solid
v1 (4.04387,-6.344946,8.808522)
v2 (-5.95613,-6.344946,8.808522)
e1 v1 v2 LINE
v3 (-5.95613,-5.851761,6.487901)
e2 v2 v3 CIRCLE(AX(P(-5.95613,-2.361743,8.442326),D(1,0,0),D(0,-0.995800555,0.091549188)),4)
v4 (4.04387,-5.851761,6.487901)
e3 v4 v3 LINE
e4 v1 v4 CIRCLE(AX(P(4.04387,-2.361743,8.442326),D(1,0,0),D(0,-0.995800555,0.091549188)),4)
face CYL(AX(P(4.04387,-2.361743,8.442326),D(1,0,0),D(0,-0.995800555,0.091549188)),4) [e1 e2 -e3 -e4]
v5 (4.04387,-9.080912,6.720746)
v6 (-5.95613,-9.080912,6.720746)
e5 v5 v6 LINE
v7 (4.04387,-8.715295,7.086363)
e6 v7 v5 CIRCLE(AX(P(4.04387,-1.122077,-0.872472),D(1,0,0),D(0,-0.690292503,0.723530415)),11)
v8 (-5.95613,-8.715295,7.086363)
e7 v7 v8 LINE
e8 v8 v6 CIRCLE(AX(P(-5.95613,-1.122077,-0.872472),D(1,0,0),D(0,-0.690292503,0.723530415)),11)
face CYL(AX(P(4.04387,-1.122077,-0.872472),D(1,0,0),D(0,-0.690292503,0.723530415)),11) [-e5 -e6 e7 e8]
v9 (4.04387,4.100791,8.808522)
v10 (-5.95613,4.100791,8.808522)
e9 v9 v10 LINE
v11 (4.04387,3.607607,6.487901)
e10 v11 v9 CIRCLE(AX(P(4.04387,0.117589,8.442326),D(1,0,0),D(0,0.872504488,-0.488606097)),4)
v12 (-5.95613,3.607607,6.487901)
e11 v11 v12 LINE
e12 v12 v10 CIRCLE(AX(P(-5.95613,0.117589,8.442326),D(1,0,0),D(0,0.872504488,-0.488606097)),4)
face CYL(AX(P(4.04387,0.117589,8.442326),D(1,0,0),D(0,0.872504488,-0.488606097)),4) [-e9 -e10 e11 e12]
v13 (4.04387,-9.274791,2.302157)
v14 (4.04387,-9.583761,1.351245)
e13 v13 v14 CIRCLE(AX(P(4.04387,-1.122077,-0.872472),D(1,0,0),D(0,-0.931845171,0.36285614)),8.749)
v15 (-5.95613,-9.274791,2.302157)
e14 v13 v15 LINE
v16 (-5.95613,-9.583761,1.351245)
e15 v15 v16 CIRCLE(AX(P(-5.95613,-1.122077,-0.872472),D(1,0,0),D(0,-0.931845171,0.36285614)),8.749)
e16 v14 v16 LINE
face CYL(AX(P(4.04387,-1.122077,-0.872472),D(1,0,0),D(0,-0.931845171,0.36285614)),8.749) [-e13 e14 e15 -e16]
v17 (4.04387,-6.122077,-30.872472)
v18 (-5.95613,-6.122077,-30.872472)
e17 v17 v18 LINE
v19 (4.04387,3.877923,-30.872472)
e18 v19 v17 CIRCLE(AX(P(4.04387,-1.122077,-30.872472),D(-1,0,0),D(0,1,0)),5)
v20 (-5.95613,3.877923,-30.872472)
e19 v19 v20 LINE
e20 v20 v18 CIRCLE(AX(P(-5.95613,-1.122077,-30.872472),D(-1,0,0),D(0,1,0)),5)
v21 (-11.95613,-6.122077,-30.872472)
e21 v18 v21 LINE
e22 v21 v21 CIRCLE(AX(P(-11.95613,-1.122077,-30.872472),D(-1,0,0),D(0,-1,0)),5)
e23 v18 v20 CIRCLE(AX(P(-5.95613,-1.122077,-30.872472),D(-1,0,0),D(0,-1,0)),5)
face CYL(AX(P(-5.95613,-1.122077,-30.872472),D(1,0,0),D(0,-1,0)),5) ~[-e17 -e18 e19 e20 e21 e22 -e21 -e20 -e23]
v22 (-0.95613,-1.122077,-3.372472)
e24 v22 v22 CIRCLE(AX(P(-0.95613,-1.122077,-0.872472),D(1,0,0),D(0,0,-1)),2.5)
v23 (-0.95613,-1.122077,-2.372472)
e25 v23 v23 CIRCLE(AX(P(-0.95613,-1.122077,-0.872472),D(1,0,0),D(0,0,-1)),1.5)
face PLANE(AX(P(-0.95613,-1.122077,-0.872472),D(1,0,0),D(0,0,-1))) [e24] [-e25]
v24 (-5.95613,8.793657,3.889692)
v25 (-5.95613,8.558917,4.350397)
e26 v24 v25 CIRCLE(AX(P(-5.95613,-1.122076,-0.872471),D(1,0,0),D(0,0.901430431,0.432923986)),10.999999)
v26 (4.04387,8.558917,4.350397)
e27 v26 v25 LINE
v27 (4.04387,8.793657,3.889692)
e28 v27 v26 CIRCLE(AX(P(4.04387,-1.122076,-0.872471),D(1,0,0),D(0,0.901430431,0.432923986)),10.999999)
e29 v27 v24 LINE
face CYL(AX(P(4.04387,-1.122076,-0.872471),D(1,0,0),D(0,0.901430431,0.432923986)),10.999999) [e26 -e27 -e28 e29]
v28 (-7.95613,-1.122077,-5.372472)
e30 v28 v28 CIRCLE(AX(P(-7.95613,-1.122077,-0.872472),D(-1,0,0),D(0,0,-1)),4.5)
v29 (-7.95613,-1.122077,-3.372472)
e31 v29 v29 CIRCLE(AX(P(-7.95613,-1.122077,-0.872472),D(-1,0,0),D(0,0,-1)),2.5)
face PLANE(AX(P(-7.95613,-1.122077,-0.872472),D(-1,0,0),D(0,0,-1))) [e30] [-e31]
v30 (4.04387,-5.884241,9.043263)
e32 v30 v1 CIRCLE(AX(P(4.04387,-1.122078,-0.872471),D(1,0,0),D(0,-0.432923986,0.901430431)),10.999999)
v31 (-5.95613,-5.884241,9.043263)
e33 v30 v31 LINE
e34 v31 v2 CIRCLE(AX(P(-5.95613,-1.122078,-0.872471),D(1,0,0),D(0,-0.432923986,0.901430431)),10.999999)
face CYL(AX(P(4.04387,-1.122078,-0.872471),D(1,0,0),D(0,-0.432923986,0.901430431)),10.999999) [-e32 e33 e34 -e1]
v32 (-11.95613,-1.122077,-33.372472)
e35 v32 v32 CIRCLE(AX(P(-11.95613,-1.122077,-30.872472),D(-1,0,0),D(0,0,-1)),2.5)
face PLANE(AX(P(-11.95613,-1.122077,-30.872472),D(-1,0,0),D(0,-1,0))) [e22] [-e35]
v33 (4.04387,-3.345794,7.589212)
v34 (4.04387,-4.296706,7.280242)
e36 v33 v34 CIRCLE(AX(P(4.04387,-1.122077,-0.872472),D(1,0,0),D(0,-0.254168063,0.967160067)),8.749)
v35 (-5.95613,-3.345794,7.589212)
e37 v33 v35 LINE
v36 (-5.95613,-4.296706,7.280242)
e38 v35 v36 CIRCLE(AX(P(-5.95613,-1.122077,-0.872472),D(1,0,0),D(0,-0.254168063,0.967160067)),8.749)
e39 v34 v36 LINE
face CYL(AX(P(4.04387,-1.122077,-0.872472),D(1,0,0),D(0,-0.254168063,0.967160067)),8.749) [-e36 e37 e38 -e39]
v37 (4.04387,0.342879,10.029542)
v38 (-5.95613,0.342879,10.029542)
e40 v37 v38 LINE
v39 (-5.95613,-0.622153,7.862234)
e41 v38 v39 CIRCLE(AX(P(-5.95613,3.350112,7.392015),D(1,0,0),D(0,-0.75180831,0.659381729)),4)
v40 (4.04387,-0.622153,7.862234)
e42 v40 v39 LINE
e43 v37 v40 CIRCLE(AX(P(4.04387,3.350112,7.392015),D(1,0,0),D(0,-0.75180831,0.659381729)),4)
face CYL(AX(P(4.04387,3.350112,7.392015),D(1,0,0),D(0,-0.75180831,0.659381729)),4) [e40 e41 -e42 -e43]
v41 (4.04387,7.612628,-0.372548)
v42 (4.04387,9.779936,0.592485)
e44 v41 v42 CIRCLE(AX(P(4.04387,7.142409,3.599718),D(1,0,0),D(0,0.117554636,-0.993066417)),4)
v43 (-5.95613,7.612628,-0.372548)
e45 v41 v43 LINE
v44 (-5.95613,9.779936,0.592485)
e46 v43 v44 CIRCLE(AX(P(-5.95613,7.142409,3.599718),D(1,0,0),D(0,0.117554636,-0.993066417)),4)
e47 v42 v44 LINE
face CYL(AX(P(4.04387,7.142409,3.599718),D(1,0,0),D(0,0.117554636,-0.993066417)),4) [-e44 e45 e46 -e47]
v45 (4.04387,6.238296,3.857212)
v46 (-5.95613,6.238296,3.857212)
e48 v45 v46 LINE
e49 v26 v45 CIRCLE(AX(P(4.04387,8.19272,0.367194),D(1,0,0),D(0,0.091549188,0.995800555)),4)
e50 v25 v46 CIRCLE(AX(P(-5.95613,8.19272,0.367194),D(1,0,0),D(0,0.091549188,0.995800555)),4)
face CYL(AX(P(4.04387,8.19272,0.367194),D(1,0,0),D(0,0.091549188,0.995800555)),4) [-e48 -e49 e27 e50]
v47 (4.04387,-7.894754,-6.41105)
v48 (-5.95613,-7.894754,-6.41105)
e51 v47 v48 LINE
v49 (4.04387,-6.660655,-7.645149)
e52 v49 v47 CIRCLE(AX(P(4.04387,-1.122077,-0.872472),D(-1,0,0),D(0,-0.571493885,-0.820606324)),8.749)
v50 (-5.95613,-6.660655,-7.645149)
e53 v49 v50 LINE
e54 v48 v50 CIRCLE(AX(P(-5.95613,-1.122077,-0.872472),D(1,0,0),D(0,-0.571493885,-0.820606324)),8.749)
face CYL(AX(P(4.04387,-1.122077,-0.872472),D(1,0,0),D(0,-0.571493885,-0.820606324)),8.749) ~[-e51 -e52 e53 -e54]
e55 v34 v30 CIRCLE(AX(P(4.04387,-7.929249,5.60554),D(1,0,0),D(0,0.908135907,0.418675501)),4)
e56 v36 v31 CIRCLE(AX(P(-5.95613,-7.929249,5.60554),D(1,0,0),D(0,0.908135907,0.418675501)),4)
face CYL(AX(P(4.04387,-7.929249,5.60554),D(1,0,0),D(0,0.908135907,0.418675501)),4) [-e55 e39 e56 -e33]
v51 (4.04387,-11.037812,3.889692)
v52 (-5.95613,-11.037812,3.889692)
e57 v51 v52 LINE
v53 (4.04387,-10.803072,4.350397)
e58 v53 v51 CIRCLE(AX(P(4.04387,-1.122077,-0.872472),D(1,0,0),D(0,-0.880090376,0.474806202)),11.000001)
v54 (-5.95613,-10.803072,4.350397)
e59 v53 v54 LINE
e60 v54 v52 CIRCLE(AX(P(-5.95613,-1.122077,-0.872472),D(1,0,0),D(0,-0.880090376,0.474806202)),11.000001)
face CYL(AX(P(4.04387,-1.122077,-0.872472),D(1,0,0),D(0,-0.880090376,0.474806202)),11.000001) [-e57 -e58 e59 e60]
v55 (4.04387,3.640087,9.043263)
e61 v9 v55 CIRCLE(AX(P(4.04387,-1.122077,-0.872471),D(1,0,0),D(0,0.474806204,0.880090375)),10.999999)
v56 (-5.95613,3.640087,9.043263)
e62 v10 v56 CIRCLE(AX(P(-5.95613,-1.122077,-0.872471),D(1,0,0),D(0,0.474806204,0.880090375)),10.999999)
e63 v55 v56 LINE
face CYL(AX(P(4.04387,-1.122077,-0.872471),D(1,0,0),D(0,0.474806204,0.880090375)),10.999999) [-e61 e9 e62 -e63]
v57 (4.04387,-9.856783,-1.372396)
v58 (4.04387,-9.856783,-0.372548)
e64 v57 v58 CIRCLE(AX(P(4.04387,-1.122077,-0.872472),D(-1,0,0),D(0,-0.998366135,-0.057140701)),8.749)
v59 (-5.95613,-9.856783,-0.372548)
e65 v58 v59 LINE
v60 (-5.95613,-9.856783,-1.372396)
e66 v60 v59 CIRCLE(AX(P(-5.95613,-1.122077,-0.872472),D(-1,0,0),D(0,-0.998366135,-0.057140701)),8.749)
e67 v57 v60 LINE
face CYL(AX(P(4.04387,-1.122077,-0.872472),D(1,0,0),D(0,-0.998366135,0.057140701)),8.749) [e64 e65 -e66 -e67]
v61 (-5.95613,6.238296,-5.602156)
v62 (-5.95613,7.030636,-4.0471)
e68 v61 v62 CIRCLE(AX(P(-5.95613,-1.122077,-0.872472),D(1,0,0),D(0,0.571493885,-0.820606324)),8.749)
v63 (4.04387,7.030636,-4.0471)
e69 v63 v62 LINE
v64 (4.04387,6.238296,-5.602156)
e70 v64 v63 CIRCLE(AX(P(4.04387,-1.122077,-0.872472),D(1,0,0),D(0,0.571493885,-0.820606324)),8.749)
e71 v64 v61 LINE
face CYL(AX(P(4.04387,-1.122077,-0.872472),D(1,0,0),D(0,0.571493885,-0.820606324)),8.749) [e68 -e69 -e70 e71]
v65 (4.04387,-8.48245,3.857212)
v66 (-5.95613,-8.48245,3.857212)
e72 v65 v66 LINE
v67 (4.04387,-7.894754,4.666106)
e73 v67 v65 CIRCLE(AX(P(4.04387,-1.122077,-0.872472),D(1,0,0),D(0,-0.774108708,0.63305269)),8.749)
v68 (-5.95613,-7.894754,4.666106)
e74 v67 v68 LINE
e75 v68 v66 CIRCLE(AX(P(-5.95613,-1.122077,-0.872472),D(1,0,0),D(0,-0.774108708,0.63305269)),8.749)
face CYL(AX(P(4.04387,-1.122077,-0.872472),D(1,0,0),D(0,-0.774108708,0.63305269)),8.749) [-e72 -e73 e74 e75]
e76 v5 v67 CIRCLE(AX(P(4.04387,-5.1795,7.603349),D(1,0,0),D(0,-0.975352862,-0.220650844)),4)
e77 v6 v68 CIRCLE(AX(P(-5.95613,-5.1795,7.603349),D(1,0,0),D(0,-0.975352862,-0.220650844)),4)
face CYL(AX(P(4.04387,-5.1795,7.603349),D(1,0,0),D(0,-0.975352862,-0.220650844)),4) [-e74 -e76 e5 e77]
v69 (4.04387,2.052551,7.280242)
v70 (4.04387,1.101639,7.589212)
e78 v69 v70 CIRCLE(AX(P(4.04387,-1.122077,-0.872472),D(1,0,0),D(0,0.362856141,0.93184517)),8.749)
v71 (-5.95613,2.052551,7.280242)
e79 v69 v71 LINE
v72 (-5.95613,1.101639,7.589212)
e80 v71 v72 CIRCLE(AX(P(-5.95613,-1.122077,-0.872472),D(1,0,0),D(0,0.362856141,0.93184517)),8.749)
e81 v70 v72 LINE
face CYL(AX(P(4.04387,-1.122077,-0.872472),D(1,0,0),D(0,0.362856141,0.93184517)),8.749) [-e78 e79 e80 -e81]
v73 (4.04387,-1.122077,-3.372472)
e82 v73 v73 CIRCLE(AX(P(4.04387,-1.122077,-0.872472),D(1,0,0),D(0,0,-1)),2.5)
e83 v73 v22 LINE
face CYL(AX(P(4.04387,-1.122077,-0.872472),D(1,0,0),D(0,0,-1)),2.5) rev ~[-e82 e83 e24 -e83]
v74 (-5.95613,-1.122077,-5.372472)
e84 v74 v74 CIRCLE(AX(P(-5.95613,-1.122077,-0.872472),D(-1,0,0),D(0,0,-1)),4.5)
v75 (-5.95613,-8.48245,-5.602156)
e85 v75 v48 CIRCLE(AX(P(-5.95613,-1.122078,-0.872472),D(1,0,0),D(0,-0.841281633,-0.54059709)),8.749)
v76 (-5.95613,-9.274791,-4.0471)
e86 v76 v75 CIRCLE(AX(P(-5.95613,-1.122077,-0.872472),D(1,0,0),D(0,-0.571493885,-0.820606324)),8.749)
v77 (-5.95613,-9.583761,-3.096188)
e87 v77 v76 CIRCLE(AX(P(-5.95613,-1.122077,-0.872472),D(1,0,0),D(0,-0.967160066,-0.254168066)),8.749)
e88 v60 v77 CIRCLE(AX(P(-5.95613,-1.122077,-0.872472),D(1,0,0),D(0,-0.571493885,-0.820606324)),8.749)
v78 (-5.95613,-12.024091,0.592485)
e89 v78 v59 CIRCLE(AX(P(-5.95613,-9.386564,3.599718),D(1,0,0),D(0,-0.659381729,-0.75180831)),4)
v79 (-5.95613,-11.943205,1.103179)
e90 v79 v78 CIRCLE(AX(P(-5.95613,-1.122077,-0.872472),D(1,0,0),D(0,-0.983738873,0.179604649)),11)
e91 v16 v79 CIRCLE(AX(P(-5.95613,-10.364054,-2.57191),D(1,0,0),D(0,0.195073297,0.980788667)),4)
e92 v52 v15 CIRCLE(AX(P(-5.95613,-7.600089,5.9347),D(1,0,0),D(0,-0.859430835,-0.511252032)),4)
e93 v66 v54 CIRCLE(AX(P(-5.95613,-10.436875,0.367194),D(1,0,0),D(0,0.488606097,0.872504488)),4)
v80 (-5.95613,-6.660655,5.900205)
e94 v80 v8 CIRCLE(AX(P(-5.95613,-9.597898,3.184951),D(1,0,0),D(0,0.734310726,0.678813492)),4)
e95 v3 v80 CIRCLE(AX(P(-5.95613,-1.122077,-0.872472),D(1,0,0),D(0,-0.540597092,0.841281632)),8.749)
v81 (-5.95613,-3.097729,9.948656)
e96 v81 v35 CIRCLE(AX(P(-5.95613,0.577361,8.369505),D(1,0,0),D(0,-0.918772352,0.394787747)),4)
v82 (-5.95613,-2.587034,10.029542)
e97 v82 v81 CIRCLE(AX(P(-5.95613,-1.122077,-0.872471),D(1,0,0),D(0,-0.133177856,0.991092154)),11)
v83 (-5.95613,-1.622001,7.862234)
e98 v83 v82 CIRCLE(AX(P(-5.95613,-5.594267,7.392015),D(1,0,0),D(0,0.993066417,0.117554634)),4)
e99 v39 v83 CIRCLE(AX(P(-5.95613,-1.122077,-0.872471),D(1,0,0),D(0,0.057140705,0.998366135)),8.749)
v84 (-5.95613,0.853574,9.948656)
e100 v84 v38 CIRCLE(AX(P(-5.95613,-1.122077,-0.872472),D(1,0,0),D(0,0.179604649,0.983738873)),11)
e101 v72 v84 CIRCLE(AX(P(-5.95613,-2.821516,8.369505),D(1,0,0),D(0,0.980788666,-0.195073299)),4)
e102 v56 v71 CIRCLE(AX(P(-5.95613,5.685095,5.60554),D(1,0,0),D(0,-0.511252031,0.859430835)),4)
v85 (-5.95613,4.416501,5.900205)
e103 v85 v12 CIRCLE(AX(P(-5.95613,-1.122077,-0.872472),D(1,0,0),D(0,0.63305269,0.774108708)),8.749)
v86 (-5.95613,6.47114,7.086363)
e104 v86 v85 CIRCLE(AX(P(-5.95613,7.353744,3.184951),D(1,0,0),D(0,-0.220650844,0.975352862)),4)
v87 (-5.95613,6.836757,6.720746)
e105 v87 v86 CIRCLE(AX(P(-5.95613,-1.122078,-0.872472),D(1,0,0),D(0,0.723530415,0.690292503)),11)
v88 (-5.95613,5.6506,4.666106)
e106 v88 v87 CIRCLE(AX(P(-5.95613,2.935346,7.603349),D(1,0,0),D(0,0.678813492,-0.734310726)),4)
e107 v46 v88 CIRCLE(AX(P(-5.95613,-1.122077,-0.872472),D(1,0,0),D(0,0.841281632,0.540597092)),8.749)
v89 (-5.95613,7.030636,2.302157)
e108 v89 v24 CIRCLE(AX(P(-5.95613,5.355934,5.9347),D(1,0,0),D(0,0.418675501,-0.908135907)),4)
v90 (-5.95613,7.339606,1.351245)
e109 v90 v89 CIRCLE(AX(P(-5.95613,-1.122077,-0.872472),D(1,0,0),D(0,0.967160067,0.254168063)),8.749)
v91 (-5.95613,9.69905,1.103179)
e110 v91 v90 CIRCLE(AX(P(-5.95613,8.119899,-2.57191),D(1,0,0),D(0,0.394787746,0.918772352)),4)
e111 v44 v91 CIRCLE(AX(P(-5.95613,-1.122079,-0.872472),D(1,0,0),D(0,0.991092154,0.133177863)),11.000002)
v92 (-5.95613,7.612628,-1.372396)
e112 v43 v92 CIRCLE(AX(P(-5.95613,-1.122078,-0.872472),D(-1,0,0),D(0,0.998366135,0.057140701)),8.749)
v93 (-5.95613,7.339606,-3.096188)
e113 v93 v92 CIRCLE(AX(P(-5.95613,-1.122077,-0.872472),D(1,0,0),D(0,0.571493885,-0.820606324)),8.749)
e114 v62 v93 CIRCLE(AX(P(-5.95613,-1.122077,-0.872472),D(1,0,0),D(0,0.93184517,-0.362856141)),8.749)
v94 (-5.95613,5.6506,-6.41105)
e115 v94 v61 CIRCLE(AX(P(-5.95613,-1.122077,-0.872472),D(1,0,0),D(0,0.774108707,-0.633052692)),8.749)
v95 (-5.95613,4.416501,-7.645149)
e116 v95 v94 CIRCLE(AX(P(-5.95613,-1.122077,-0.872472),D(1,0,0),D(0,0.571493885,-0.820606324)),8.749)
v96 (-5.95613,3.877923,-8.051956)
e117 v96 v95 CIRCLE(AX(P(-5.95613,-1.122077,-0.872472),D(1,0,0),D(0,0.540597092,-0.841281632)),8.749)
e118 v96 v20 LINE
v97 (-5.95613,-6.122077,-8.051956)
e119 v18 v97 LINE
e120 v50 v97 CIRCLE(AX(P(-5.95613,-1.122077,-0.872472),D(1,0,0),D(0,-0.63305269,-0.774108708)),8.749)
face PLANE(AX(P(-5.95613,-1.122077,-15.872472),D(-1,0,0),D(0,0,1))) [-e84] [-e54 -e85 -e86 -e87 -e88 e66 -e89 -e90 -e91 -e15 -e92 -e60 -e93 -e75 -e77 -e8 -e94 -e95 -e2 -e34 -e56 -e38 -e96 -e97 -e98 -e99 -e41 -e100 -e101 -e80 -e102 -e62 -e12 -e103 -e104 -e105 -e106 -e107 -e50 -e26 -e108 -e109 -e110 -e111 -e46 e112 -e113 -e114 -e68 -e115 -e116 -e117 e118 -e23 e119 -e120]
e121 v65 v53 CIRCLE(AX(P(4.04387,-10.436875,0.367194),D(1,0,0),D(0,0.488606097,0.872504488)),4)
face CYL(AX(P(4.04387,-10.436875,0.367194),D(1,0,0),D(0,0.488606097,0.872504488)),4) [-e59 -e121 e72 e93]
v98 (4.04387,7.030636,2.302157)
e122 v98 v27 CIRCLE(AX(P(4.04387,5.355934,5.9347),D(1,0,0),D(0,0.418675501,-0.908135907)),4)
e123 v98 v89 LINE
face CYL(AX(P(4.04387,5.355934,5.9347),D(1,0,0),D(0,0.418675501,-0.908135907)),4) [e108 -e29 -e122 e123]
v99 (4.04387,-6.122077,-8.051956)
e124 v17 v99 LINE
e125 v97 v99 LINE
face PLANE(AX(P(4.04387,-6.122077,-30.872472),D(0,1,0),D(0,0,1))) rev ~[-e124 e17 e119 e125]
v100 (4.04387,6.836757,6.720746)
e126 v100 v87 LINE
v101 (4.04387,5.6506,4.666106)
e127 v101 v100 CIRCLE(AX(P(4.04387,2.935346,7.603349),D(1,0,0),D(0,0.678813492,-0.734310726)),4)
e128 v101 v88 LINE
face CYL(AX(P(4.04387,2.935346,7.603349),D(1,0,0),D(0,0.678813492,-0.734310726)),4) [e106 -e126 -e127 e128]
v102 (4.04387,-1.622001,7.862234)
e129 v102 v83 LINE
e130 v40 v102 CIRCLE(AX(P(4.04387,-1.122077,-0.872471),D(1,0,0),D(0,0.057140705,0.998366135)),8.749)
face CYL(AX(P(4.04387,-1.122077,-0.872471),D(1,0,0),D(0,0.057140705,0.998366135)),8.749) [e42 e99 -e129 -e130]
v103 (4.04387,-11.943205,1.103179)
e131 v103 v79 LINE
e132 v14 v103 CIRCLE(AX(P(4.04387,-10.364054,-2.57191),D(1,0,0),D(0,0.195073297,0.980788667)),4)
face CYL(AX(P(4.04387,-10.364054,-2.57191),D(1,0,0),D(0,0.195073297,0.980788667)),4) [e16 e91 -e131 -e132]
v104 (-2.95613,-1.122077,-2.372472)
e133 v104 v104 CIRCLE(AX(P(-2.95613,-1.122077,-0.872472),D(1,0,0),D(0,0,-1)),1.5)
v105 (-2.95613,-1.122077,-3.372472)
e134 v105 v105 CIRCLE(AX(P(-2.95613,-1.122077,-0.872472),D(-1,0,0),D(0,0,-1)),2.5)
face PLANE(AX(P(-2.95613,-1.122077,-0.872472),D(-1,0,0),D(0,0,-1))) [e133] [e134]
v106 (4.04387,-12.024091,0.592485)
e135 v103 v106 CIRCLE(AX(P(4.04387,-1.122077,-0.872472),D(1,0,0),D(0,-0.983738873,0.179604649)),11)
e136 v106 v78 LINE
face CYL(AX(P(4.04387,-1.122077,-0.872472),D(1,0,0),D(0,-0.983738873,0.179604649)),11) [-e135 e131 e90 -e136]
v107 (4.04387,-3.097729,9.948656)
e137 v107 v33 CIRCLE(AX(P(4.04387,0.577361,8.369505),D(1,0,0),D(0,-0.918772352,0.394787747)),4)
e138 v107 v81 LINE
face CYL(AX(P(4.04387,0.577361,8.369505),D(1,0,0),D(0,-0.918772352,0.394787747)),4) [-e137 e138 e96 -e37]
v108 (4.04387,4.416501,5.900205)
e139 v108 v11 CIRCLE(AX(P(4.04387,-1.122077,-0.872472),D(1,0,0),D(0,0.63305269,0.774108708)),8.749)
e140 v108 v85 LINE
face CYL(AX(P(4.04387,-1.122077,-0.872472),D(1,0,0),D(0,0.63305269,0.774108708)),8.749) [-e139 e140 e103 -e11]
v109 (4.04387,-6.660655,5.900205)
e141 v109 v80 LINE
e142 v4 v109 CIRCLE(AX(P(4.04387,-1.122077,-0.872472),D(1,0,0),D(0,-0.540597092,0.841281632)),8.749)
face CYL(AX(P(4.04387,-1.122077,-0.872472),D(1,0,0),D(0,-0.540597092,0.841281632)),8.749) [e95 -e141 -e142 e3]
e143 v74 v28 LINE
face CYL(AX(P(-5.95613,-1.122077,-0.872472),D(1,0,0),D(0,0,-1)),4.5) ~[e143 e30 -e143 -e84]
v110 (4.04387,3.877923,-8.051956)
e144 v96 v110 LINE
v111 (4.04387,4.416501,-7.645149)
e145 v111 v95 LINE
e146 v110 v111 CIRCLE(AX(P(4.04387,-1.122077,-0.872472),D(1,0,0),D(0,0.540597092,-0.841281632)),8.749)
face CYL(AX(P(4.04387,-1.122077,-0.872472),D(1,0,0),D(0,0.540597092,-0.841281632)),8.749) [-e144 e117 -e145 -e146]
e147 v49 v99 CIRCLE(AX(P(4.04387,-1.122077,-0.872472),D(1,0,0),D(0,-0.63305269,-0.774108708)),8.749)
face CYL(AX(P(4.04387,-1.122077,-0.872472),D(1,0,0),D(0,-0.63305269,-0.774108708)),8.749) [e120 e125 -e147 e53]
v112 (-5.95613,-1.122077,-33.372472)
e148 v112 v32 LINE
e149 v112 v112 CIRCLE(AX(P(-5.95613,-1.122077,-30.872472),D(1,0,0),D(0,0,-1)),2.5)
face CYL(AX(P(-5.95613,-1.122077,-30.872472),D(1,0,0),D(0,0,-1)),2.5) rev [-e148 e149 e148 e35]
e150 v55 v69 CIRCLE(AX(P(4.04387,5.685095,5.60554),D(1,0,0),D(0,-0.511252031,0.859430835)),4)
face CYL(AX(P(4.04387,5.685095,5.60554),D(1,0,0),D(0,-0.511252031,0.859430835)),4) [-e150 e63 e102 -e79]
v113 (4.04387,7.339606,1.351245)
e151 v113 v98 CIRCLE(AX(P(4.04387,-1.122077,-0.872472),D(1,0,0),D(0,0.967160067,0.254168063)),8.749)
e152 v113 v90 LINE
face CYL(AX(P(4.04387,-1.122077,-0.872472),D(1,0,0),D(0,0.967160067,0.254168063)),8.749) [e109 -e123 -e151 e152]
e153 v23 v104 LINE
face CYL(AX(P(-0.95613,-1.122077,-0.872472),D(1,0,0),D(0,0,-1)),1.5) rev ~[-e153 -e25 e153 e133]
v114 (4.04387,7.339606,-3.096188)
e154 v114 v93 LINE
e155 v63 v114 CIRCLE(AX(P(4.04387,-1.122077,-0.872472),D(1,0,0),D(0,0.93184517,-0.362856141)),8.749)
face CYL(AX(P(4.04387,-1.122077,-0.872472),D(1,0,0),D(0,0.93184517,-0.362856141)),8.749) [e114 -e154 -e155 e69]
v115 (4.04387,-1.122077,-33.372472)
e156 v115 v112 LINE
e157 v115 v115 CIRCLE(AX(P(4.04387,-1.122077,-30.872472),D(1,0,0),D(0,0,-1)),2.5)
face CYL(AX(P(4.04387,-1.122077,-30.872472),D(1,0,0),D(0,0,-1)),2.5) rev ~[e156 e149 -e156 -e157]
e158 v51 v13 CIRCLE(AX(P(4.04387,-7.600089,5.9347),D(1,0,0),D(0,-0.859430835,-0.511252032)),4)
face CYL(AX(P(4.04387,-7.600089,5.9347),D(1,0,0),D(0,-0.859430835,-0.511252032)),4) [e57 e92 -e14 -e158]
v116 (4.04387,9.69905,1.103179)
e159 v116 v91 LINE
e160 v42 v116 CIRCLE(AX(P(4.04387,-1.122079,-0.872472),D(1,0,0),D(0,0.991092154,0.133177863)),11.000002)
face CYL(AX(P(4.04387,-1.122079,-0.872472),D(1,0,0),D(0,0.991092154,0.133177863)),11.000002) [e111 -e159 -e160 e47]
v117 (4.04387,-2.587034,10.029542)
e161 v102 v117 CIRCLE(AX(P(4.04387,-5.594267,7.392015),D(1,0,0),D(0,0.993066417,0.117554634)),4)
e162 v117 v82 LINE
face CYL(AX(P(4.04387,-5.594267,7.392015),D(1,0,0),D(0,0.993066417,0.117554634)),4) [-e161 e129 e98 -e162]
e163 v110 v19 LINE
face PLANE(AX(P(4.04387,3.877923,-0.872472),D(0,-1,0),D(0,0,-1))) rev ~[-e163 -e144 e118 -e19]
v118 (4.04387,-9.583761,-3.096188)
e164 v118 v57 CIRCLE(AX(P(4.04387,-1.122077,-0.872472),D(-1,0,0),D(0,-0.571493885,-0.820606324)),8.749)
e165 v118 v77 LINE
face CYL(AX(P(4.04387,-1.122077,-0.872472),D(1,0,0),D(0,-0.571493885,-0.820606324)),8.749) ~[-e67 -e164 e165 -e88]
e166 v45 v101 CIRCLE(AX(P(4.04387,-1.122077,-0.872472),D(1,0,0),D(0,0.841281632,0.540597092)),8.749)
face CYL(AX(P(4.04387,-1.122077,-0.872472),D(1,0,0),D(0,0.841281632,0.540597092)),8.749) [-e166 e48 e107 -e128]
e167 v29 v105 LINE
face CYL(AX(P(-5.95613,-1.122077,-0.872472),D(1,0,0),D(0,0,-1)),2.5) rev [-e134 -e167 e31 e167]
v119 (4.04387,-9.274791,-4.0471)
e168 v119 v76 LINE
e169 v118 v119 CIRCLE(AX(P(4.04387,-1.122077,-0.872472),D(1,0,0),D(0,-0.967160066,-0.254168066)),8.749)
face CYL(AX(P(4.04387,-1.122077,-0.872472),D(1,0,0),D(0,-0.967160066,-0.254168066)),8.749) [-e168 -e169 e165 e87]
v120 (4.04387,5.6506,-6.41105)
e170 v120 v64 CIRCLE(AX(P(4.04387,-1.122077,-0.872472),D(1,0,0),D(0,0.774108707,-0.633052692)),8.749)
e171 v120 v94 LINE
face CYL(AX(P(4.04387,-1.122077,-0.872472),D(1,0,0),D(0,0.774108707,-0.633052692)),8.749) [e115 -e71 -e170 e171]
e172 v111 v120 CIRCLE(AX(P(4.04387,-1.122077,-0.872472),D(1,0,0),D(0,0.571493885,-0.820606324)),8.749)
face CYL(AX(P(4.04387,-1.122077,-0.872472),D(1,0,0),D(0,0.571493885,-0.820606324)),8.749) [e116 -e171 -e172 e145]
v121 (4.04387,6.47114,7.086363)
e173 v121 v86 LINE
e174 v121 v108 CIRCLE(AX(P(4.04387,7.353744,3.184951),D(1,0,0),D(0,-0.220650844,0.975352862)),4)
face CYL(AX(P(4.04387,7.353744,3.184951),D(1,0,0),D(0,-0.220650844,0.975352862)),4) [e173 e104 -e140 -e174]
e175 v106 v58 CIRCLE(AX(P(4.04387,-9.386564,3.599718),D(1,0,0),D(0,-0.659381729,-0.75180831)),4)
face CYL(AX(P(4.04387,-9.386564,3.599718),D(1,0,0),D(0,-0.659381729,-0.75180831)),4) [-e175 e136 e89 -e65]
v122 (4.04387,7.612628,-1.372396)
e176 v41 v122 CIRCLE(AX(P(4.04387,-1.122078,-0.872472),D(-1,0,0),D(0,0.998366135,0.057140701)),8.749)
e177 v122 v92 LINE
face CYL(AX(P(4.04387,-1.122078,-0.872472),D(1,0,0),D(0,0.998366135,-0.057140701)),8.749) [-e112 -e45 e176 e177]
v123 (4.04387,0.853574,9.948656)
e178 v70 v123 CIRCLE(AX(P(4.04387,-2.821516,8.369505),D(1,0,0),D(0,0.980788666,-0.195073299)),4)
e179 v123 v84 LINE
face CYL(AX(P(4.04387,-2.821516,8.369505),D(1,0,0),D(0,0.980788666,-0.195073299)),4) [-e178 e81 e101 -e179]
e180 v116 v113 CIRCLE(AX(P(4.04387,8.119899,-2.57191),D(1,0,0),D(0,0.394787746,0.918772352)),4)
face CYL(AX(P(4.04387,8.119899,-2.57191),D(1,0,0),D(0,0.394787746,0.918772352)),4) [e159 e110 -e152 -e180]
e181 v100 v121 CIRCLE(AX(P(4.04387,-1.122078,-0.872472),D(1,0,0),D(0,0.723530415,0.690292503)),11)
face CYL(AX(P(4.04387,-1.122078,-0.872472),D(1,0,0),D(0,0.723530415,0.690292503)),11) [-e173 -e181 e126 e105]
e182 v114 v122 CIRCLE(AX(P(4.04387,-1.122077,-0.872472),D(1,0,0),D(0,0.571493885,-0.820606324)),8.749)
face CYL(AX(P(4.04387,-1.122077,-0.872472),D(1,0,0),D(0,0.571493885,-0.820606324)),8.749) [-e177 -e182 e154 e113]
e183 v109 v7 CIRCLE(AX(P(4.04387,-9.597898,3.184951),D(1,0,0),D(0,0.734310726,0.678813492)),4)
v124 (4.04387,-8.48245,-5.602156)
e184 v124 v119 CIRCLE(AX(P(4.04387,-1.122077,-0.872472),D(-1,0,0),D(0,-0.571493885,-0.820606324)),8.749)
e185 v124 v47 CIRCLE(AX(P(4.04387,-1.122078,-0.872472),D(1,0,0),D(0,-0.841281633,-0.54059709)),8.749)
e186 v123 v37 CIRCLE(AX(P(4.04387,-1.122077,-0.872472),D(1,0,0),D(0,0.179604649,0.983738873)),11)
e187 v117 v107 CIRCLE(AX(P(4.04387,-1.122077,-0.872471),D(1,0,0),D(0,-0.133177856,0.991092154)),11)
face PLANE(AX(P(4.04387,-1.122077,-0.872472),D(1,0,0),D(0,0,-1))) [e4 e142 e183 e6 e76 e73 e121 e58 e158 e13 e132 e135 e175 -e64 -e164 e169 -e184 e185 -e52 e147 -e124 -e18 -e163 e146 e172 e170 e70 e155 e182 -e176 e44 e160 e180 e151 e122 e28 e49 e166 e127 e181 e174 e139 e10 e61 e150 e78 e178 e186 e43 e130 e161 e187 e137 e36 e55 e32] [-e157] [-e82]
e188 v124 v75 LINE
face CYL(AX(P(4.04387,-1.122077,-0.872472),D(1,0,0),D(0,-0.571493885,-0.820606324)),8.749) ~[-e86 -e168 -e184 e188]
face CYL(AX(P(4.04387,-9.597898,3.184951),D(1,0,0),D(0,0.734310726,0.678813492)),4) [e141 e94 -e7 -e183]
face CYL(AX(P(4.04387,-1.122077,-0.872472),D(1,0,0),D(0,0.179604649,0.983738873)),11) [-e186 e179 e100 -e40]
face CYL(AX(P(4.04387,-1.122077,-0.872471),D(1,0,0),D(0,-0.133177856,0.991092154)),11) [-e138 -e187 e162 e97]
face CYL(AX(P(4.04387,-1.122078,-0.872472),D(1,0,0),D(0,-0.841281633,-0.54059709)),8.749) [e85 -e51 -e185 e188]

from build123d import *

# Parameters (mm, degrees)
SKETCH1_R           = 2.5
BOSS_EXTRUDE1_DEPTH = 10
SKETCH2_R           = 2.5
BOSS_EXTRUDE2_DEPTH = 10
SKETCH3_R           = 5
SKETCH3_R_2         = 2.5
BOSS_EXTRUDE3_DEPTH = 6
SKETCH4_R           = 2.5
CUT_EXTRUDE1_DEPTH  = 5
SKETCH6_R           = 1.5
CUT_EXTRUDE2_DEPTH  = 40.400672482
CUT_EXTRUDE3_START  = -3
SKETCH7_R           = 2.5
CUT_EXTRUDE3_DEPTH  = 3
SKETCH8_R           = 4.5
SKETCH8_R_2         = 2.5
BOSS_EXTRUDE4_DEPTH = 2
CUT_EXTRUDE4_DEPTH  = 42.078132772


with BuildPart() as part:
    # Sketch1 → Boss-Extrude1 (new body)
    with BuildSketch(Plane(origin=(4.043870029, 0, 0), x_dir=(0, 0, -1), z_dir=(1, 0, 0))):
        with BuildLine():
            ThreePointArc((-10.029541992, 0.342879069), (-9.019080639, -0.304016541), (-7.862233613, -0.622153359))
            ThreePointArc((-7.862233613, -0.622153359), (-7.876528296, -1.122077366), (-7.862233613, -1.622001374))
            ThreePointArc((-7.862233613, -1.622001374), (-9.019080639, -1.940138191), (-10.029541992, -2.587033801))
            ThreePointArc((-10.029541992, -2.587033801), (-9.992100042, -2.842856482), (-9.948655897, -3.097728508))
            ThreePointArc((-9.948655897, -3.097728508), (-8.787748306, -3.400713063), (-7.58921172, -3.345793765))
            ThreePointArc((-7.58921172, -3.345793765), (-7.448321757, -3.82566705), (-7.280241692, -4.296705735))
            ThreePointArc((-7.280241692, -4.296705735), (-8.282158911, -4.956757219), (-9.043263028, -5.884241235))
            ThreePointArc((-9.043263028, -5.884241235), (-8.928600062, -6.115972863), (-8.808522437, -6.344945585))
            ThreePointArc((-8.808522437, -6.344945585), (-7.610806331, -6.274360846), (-6.487901298, -5.851761317))
            ThreePointArc((-6.487901298, -5.851761317), (-6.20561798, -6.264610538), (-5.90020538, -6.660655353))
            ThreePointArc((-5.90020538, -6.660655353), (-6.649118154, -7.598011066), (-7.086362862, -8.715294889))
            ThreePointArc((-7.086362862, -8.715294889), (-6.905702889, -8.900251959), (-6.720745819, -9.080911932))
            ThreePointArc((-6.720745819, -9.080911932), (-5.603461996, -8.643667224), (-4.666106283, -7.89475445))
            ThreePointArc((-4.666106283, -7.89475445), (-4.270061468, -8.20016705), (-3.857212247, -8.482450368))
            ThreePointArc((-3.857212247, -8.482450368), (-4.279811776, -9.605355401), (-4.350396515, -10.803071507))
            ThreePointArc((-4.350396515, -10.803071507), (-4.121423793, -10.923149132), (-3.889692165, -11.037812099))
            ThreePointArc((-3.889692165, -11.037812099), (-2.962208149, -10.276707981), (-2.302156665, -9.274790762))
            ThreePointArc((-2.302156665, -9.274790762), (-1.83111798, -9.442870827), (-1.351244695, -9.583760791))
            ThreePointArc((-1.351244695, -9.583760791), (-1.406163992, -10.782297376), (-1.103179437, -11.943204968))
            ThreePointArc((-1.103179437, -11.943204968), (-0.848307411, -11.986649113), (-0.592484731, -12.024091063))
            ThreePointArc((-0.592484731, -12.024091063), (0.054410879, -11.01362971), (0.372547697, -9.856782684))
            ThreePointArc((0.372547697, -9.856782684), (0.872471704, -9.871077366), (1.372395712, -9.856782684))
            ThreePointArc((1.372395712, -9.856782684), (1.690532529, -11.01362971), (2.337428139, -12.024091063))
            ThreePointArc((2.337428139, -12.024091063), (2.59325082, -11.986649113), (2.848122846, -11.943204968))
            ThreePointArc((2.848122846, -11.943204968), (3.151107401, -10.782297376), (3.096188103, -9.583760791))
            ThreePointArc((3.096188103, -9.583760791), (3.576061388, -9.442870827), (4.047100073, -9.274790762))
            ThreePointArc((4.047100073, -9.274790762), (4.707151558, -10.276707981), (5.634635573, -11.037812099))
            ThreePointArc((5.634635573, -11.037812099), (5.866367201, -10.923149132), (6.095339923, -10.803071507))
            ThreePointArc((6.095339923, -10.803071507), (6.024755184, -9.605355401), (5.602155655, -8.482450368))
            ThreePointArc((5.602155655, -8.482450368), (6.015004877, -8.20016705), (6.411049691, -7.89475445))
            ThreePointArc((6.411049691, -7.89475445), (7.348405404, -8.643667224), (8.465689227, -9.080911932))
            ThreePointArc((8.465689227, -9.080911932), (8.650646297, -8.900251959), (8.83130627, -8.715294889))
            ThreePointArc((8.83130627, -8.715294889), (8.394061563, -7.598011066), (7.645148788, -6.660655353))
            ThreePointArc((7.645148788, -6.660655353), (7.950561388, -6.264610538), (8.232844706, -5.851761317))
            ThreePointArc((8.232844706, -5.851761317), (9.355749739, -6.274360846), (10.553465846, -6.344945585))
            ThreePointArc((10.553465846, -6.344945585), (10.67354347, -6.115972863), (10.788206437, -5.884241235))
            ThreePointArc((10.788206437, -5.884241235), (10.02710232, -4.956757219), (9.0251851, -4.296705735))
            ThreePointArc((9.0251851, -4.296705735), (9.193265165, -3.82566705), (9.334155129, -3.345793765))
            ThreePointArc((9.334155129, -3.345793765), (10.532691714, -3.400713063), (11.693599306, -3.097728508))
            ThreePointArc((11.693599306, -3.097728508), (11.737043451, -2.842856482), (11.774485401, -2.587033801))
            ThreePointArc((11.774485401, -2.587033801), (10.764024048, -1.940138191), (9.607177022, -1.622001374))
            ThreePointArc((9.607177022, -1.622001374), (9.621471704, -1.122077366), (9.607177022, -0.622153359))
            ThreePointArc((9.607177022, -0.622153359), (10.764024048, -0.304016541), (11.774485401, 0.342879069))
            ThreePointArc((11.774485401, 0.342879069), (11.737043451, 0.598701749), (11.693599306, 0.853573775))
            ThreePointArc((11.693599306, 0.853573775), (10.532691714, 1.156558331), (9.334155129, 1.101639033))
            ThreePointArc((9.334155129, 1.101639033), (9.193265165, 1.581512318), (9.0251851, 2.052551003))
            ThreePointArc((9.0251851, 2.052551003), (10.02710232, 2.712602487), (10.788206437, 3.640086503))
            ThreePointArc((10.788206437, 3.640086503), (10.67354347, 3.871818131), (10.553465846, 4.100790853))
            ThreePointArc((10.553465846, 4.100790853), (9.355749739, 4.030206114), (8.232844706, 3.607606585))
            ThreePointArc((8.232844706, 3.607606585), (7.950561388, 4.020455806), (7.645148788, 4.416500621))
            ThreePointArc((7.645148788, 4.416500621), (8.394061563, 5.353856334), (8.83130627, 6.471140157))
            ThreePointArc((8.83130627, 6.471140157), (8.650646297, 6.656097227), (8.465689227, 6.8367572))
            ThreePointArc((8.465689227, 6.8367572), (7.348405404, 6.399512492), (6.411049691, 5.650599718))
            ThreePointArc((6.411049691, 5.650599718), (6.015004877, 5.956012318), (5.602155655, 6.238295636))
            ThreePointArc((5.602155655, 6.238295636), (6.024755184, 7.361200669), (6.095339923, 8.558916775))
            ThreePointArc((6.095339923, 8.558916775), (5.866367201, 8.6789944), (5.634635573, 8.793657366))
            ThreePointArc((5.634635573, 8.793657366), (4.707151558, 8.032553249), (4.047100073, 7.03063603))
            ThreePointArc((4.047100073, 7.03063603), (3.576061388, 7.198716095), (3.096188103, 7.339606058))
            ThreePointArc((3.096188103, 7.339606058), (3.151107401, 8.538142644), (2.848122846, 9.699050235))
            ThreePointArc((2.848122846, 9.699050235), (2.59325082, 9.74249438), (2.337428139, 9.779936331))
            ThreePointArc((2.337428139, 9.779936331), (1.690532529, 8.769474978), (1.372395712, 7.612627952))
            ThreePointArc((1.372395712, 7.612627952), (0.872471704, 7.626922634), (0.372547697, 7.612627952))
            ThreePointArc((0.372547697, 7.612627952), (0.054410879, 8.769474978), (-0.592484731, 9.779936331))
            ThreePointArc((-0.592484731, 9.779936331), (-0.848307411, 9.74249438), (-1.103179437, 9.699050235))
            ThreePointArc((-1.103179437, 9.699050235), (-1.406163992, 8.538142644), (-1.351244695, 7.339606058))
            ThreePointArc((-1.351244695, 7.339606058), (-1.83111798, 7.198716095), (-2.302156665, 7.03063603))
            ThreePointArc((-2.302156665, 7.03063603), (-2.962208149, 8.032553249), (-3.889692165, 8.793657366))
            ThreePointArc((-3.889692165, 8.793657366), (-4.121423793, 8.6789944), (-4.350396515, 8.558916775))
            ThreePointArc((-4.350396515, 8.558916775), (-4.279811776, 7.361200669), (-3.857212247, 6.238295636))
            ThreePointArc((-3.857212247, 6.238295636), (-4.270061468, 5.956012318), (-4.666106283, 5.650599718))
            ThreePointArc((-4.666106283, 5.650599718), (-5.603461996, 6.399512492), (-6.720745819, 6.8367572))
            ThreePointArc((-6.720745819, 6.8367572), (-6.905702889, 6.656097227), (-7.086362862, 6.471140157))
            ThreePointArc((-7.086362862, 6.471140157), (-6.649118154, 5.353856334), (-5.90020538, 4.416500621))
            ThreePointArc((-5.90020538, 4.416500621), (-6.20561798, 4.020455806), (-6.487901298, 3.607606585))
            ThreePointArc((-6.487901298, 3.607606585), (-7.610806331, 4.030206114), (-8.808522437, 4.100790853))
            ThreePointArc((-8.808522437, 4.100790853), (-8.928600062, 3.871818131), (-9.043263028, 3.640086503))
            ThreePointArc((-9.043263028, 3.640086503), (-8.282158911, 2.712602487), (-7.280241692, 2.052551003))
            ThreePointArc((-7.280241692, 2.052551003), (-7.448321757, 1.581512318), (-7.58921172, 1.101639033))
            ThreePointArc((-7.58921172, 1.101639033), (-8.787748306, 1.156558331), (-9.948655897, 0.853573775))
            ThreePointArc((-9.948655897, 0.853573775), (-9.992100042, 0.598701749), (-10.029541992, 0.342879069))
        make_face()
        with Locations(Location((0.872471704, -1.122077366, 0), (0, 0, 180))):
            Circle(SKETCH1_R, mode=Mode.SUBTRACT)
    extrude(amount=-BOSS_EXTRUDE1_DEPTH)

    # Sketch2 → Boss-Extrude2 (add)
    with BuildSketch(Plane(origin=(4.043870029, 0, 0), x_dir=(0, 0, -1), z_dir=(1, 0, 0))):
        with BuildLine():
            Line((0.872471704, 3.877922634), (30.872471704, 3.877922634))
            ThreePointArc((30.872471704, 3.877922634), (35.872471704, -1.122077366), (30.872471704, -6.122077366))
            Line((30.872471704, -6.122077366), (0.872471704, -6.122077366))
            ThreePointArc((0.872471704, -6.122077366), (-4.127528296, -1.122077366), (0.872471704, 3.877922634))
        make_face()
        with Locations((30.872471704, -1.122077366)):
            Circle(SKETCH2_R, mode=Mode.SUBTRACT)
    extrude(amount=-BOSS_EXTRUDE2_DEPTH)

    # Sketch3 → Boss-Extrude3 (add)
    with BuildSketch(Plane.ZY.offset(5.956129971)):
        with Locations(Location((-30.872471704, -1.122077366, 0), (0, 0, 270))):
            Circle(SKETCH3_R)
        with Locations(Location((-30.872471704, -1.122077366, 0), (0, 0, 180))):
            Circle(SKETCH3_R_2, mode=Mode.SUBTRACT)
    extrude(amount=BOSS_EXTRUDE3_DEPTH)

    # Sketch4 → Cut-Extrude1 (cut)
    with BuildSketch(Plane(origin=(4.043870029, 0, 0), x_dir=(0, 0, -1), z_dir=(1, 0, 0))):
        with Locations((0.872471704, -1.122077366)):
            Circle(SKETCH4_R)
    extrude(amount=-CUT_EXTRUDE1_DEPTH, mode=Mode.SUBTRACT)

    # Sketch6 → Cut-Extrude2 (cut, through all)
    with BuildSketch(Plane(origin=(-0.956129971, 0, 0), x_dir=(0, 0, -1), z_dir=(1, 0, 0))):
        with Locations((0.872471704, -1.122077366)):
            Circle(SKETCH6_R)
    extrude(amount=-CUT_EXTRUDE2_DEPTH, mode=Mode.SUBTRACT)

    # Sketch7 → Cut-Extrude3 (cut)
    with BuildSketch(Plane.ZY.offset(5.956129971).offset(CUT_EXTRUDE3_START)):
        with Locations(Location((-0.872471704, -1.122077366, 0), (0, 0, 180))):
            Circle(SKETCH7_R)
    extrude(amount=CUT_EXTRUDE3_DEPTH, mode=Mode.SUBTRACT)

    # Sketch8 → Boss-Extrude4 (add)
    with BuildSketch(Plane.ZY.offset(5.956129971)):
        with Locations(Location((-0.872471704, -1.122077366, 0), (0, 0, 180))):
            Circle(SKETCH8_R)
        with Locations(Location((-0.872471704, -1.122077366, 0), (0, 0, 180))):
            Circle(SKETCH8_R_2, mode=Mode.SUBTRACT)
    extrude(amount=BOSS_EXTRUDE4_DEPTH)

    # Sketch9 → Cut-Extrude4 (cut, through all)
    with BuildSketch(Plane(origin=(4.043870029, 0, 0), x_dir=(0, 0, -1), z_dir=(1, 0, 0))):
        with BuildLine():
            Line((11.302349515, -6.122077366), (8.051956435, -6.122077366))
            ThreePointArc((8.051956435, -6.122077366), (4.922163112, -8.877398152), (0.872471704, -9.871077366))
            Line((0.872471704, -9.871077366), (0.872471704, -12.68850945))
            ThreePointArc((0.872471704, -12.68850945), (7.034865343, -10.910195458), (11.302349515, -6.122077366))
        make_face()
        with BuildLine():
            Line((11.302349515, 3.877922634), (8.051956435, 3.877922634))
            ThreePointArc((8.051956435, 3.877922634), (4.922163112, 6.63324342), (0.872471704, 7.626922634))
            Line((0.872471704, 7.626922634), (0.872471704, 10.444354718))
            ThreePointArc((0.872471704, 10.444354718), (7.034865343, 8.666040726), (11.302349515, 3.877922634))
        make_face()
    extrude(amount=-CUT_EXTRUDE4_DEPTH, mode=Mode.SUBTRACT)


solid = part.part
